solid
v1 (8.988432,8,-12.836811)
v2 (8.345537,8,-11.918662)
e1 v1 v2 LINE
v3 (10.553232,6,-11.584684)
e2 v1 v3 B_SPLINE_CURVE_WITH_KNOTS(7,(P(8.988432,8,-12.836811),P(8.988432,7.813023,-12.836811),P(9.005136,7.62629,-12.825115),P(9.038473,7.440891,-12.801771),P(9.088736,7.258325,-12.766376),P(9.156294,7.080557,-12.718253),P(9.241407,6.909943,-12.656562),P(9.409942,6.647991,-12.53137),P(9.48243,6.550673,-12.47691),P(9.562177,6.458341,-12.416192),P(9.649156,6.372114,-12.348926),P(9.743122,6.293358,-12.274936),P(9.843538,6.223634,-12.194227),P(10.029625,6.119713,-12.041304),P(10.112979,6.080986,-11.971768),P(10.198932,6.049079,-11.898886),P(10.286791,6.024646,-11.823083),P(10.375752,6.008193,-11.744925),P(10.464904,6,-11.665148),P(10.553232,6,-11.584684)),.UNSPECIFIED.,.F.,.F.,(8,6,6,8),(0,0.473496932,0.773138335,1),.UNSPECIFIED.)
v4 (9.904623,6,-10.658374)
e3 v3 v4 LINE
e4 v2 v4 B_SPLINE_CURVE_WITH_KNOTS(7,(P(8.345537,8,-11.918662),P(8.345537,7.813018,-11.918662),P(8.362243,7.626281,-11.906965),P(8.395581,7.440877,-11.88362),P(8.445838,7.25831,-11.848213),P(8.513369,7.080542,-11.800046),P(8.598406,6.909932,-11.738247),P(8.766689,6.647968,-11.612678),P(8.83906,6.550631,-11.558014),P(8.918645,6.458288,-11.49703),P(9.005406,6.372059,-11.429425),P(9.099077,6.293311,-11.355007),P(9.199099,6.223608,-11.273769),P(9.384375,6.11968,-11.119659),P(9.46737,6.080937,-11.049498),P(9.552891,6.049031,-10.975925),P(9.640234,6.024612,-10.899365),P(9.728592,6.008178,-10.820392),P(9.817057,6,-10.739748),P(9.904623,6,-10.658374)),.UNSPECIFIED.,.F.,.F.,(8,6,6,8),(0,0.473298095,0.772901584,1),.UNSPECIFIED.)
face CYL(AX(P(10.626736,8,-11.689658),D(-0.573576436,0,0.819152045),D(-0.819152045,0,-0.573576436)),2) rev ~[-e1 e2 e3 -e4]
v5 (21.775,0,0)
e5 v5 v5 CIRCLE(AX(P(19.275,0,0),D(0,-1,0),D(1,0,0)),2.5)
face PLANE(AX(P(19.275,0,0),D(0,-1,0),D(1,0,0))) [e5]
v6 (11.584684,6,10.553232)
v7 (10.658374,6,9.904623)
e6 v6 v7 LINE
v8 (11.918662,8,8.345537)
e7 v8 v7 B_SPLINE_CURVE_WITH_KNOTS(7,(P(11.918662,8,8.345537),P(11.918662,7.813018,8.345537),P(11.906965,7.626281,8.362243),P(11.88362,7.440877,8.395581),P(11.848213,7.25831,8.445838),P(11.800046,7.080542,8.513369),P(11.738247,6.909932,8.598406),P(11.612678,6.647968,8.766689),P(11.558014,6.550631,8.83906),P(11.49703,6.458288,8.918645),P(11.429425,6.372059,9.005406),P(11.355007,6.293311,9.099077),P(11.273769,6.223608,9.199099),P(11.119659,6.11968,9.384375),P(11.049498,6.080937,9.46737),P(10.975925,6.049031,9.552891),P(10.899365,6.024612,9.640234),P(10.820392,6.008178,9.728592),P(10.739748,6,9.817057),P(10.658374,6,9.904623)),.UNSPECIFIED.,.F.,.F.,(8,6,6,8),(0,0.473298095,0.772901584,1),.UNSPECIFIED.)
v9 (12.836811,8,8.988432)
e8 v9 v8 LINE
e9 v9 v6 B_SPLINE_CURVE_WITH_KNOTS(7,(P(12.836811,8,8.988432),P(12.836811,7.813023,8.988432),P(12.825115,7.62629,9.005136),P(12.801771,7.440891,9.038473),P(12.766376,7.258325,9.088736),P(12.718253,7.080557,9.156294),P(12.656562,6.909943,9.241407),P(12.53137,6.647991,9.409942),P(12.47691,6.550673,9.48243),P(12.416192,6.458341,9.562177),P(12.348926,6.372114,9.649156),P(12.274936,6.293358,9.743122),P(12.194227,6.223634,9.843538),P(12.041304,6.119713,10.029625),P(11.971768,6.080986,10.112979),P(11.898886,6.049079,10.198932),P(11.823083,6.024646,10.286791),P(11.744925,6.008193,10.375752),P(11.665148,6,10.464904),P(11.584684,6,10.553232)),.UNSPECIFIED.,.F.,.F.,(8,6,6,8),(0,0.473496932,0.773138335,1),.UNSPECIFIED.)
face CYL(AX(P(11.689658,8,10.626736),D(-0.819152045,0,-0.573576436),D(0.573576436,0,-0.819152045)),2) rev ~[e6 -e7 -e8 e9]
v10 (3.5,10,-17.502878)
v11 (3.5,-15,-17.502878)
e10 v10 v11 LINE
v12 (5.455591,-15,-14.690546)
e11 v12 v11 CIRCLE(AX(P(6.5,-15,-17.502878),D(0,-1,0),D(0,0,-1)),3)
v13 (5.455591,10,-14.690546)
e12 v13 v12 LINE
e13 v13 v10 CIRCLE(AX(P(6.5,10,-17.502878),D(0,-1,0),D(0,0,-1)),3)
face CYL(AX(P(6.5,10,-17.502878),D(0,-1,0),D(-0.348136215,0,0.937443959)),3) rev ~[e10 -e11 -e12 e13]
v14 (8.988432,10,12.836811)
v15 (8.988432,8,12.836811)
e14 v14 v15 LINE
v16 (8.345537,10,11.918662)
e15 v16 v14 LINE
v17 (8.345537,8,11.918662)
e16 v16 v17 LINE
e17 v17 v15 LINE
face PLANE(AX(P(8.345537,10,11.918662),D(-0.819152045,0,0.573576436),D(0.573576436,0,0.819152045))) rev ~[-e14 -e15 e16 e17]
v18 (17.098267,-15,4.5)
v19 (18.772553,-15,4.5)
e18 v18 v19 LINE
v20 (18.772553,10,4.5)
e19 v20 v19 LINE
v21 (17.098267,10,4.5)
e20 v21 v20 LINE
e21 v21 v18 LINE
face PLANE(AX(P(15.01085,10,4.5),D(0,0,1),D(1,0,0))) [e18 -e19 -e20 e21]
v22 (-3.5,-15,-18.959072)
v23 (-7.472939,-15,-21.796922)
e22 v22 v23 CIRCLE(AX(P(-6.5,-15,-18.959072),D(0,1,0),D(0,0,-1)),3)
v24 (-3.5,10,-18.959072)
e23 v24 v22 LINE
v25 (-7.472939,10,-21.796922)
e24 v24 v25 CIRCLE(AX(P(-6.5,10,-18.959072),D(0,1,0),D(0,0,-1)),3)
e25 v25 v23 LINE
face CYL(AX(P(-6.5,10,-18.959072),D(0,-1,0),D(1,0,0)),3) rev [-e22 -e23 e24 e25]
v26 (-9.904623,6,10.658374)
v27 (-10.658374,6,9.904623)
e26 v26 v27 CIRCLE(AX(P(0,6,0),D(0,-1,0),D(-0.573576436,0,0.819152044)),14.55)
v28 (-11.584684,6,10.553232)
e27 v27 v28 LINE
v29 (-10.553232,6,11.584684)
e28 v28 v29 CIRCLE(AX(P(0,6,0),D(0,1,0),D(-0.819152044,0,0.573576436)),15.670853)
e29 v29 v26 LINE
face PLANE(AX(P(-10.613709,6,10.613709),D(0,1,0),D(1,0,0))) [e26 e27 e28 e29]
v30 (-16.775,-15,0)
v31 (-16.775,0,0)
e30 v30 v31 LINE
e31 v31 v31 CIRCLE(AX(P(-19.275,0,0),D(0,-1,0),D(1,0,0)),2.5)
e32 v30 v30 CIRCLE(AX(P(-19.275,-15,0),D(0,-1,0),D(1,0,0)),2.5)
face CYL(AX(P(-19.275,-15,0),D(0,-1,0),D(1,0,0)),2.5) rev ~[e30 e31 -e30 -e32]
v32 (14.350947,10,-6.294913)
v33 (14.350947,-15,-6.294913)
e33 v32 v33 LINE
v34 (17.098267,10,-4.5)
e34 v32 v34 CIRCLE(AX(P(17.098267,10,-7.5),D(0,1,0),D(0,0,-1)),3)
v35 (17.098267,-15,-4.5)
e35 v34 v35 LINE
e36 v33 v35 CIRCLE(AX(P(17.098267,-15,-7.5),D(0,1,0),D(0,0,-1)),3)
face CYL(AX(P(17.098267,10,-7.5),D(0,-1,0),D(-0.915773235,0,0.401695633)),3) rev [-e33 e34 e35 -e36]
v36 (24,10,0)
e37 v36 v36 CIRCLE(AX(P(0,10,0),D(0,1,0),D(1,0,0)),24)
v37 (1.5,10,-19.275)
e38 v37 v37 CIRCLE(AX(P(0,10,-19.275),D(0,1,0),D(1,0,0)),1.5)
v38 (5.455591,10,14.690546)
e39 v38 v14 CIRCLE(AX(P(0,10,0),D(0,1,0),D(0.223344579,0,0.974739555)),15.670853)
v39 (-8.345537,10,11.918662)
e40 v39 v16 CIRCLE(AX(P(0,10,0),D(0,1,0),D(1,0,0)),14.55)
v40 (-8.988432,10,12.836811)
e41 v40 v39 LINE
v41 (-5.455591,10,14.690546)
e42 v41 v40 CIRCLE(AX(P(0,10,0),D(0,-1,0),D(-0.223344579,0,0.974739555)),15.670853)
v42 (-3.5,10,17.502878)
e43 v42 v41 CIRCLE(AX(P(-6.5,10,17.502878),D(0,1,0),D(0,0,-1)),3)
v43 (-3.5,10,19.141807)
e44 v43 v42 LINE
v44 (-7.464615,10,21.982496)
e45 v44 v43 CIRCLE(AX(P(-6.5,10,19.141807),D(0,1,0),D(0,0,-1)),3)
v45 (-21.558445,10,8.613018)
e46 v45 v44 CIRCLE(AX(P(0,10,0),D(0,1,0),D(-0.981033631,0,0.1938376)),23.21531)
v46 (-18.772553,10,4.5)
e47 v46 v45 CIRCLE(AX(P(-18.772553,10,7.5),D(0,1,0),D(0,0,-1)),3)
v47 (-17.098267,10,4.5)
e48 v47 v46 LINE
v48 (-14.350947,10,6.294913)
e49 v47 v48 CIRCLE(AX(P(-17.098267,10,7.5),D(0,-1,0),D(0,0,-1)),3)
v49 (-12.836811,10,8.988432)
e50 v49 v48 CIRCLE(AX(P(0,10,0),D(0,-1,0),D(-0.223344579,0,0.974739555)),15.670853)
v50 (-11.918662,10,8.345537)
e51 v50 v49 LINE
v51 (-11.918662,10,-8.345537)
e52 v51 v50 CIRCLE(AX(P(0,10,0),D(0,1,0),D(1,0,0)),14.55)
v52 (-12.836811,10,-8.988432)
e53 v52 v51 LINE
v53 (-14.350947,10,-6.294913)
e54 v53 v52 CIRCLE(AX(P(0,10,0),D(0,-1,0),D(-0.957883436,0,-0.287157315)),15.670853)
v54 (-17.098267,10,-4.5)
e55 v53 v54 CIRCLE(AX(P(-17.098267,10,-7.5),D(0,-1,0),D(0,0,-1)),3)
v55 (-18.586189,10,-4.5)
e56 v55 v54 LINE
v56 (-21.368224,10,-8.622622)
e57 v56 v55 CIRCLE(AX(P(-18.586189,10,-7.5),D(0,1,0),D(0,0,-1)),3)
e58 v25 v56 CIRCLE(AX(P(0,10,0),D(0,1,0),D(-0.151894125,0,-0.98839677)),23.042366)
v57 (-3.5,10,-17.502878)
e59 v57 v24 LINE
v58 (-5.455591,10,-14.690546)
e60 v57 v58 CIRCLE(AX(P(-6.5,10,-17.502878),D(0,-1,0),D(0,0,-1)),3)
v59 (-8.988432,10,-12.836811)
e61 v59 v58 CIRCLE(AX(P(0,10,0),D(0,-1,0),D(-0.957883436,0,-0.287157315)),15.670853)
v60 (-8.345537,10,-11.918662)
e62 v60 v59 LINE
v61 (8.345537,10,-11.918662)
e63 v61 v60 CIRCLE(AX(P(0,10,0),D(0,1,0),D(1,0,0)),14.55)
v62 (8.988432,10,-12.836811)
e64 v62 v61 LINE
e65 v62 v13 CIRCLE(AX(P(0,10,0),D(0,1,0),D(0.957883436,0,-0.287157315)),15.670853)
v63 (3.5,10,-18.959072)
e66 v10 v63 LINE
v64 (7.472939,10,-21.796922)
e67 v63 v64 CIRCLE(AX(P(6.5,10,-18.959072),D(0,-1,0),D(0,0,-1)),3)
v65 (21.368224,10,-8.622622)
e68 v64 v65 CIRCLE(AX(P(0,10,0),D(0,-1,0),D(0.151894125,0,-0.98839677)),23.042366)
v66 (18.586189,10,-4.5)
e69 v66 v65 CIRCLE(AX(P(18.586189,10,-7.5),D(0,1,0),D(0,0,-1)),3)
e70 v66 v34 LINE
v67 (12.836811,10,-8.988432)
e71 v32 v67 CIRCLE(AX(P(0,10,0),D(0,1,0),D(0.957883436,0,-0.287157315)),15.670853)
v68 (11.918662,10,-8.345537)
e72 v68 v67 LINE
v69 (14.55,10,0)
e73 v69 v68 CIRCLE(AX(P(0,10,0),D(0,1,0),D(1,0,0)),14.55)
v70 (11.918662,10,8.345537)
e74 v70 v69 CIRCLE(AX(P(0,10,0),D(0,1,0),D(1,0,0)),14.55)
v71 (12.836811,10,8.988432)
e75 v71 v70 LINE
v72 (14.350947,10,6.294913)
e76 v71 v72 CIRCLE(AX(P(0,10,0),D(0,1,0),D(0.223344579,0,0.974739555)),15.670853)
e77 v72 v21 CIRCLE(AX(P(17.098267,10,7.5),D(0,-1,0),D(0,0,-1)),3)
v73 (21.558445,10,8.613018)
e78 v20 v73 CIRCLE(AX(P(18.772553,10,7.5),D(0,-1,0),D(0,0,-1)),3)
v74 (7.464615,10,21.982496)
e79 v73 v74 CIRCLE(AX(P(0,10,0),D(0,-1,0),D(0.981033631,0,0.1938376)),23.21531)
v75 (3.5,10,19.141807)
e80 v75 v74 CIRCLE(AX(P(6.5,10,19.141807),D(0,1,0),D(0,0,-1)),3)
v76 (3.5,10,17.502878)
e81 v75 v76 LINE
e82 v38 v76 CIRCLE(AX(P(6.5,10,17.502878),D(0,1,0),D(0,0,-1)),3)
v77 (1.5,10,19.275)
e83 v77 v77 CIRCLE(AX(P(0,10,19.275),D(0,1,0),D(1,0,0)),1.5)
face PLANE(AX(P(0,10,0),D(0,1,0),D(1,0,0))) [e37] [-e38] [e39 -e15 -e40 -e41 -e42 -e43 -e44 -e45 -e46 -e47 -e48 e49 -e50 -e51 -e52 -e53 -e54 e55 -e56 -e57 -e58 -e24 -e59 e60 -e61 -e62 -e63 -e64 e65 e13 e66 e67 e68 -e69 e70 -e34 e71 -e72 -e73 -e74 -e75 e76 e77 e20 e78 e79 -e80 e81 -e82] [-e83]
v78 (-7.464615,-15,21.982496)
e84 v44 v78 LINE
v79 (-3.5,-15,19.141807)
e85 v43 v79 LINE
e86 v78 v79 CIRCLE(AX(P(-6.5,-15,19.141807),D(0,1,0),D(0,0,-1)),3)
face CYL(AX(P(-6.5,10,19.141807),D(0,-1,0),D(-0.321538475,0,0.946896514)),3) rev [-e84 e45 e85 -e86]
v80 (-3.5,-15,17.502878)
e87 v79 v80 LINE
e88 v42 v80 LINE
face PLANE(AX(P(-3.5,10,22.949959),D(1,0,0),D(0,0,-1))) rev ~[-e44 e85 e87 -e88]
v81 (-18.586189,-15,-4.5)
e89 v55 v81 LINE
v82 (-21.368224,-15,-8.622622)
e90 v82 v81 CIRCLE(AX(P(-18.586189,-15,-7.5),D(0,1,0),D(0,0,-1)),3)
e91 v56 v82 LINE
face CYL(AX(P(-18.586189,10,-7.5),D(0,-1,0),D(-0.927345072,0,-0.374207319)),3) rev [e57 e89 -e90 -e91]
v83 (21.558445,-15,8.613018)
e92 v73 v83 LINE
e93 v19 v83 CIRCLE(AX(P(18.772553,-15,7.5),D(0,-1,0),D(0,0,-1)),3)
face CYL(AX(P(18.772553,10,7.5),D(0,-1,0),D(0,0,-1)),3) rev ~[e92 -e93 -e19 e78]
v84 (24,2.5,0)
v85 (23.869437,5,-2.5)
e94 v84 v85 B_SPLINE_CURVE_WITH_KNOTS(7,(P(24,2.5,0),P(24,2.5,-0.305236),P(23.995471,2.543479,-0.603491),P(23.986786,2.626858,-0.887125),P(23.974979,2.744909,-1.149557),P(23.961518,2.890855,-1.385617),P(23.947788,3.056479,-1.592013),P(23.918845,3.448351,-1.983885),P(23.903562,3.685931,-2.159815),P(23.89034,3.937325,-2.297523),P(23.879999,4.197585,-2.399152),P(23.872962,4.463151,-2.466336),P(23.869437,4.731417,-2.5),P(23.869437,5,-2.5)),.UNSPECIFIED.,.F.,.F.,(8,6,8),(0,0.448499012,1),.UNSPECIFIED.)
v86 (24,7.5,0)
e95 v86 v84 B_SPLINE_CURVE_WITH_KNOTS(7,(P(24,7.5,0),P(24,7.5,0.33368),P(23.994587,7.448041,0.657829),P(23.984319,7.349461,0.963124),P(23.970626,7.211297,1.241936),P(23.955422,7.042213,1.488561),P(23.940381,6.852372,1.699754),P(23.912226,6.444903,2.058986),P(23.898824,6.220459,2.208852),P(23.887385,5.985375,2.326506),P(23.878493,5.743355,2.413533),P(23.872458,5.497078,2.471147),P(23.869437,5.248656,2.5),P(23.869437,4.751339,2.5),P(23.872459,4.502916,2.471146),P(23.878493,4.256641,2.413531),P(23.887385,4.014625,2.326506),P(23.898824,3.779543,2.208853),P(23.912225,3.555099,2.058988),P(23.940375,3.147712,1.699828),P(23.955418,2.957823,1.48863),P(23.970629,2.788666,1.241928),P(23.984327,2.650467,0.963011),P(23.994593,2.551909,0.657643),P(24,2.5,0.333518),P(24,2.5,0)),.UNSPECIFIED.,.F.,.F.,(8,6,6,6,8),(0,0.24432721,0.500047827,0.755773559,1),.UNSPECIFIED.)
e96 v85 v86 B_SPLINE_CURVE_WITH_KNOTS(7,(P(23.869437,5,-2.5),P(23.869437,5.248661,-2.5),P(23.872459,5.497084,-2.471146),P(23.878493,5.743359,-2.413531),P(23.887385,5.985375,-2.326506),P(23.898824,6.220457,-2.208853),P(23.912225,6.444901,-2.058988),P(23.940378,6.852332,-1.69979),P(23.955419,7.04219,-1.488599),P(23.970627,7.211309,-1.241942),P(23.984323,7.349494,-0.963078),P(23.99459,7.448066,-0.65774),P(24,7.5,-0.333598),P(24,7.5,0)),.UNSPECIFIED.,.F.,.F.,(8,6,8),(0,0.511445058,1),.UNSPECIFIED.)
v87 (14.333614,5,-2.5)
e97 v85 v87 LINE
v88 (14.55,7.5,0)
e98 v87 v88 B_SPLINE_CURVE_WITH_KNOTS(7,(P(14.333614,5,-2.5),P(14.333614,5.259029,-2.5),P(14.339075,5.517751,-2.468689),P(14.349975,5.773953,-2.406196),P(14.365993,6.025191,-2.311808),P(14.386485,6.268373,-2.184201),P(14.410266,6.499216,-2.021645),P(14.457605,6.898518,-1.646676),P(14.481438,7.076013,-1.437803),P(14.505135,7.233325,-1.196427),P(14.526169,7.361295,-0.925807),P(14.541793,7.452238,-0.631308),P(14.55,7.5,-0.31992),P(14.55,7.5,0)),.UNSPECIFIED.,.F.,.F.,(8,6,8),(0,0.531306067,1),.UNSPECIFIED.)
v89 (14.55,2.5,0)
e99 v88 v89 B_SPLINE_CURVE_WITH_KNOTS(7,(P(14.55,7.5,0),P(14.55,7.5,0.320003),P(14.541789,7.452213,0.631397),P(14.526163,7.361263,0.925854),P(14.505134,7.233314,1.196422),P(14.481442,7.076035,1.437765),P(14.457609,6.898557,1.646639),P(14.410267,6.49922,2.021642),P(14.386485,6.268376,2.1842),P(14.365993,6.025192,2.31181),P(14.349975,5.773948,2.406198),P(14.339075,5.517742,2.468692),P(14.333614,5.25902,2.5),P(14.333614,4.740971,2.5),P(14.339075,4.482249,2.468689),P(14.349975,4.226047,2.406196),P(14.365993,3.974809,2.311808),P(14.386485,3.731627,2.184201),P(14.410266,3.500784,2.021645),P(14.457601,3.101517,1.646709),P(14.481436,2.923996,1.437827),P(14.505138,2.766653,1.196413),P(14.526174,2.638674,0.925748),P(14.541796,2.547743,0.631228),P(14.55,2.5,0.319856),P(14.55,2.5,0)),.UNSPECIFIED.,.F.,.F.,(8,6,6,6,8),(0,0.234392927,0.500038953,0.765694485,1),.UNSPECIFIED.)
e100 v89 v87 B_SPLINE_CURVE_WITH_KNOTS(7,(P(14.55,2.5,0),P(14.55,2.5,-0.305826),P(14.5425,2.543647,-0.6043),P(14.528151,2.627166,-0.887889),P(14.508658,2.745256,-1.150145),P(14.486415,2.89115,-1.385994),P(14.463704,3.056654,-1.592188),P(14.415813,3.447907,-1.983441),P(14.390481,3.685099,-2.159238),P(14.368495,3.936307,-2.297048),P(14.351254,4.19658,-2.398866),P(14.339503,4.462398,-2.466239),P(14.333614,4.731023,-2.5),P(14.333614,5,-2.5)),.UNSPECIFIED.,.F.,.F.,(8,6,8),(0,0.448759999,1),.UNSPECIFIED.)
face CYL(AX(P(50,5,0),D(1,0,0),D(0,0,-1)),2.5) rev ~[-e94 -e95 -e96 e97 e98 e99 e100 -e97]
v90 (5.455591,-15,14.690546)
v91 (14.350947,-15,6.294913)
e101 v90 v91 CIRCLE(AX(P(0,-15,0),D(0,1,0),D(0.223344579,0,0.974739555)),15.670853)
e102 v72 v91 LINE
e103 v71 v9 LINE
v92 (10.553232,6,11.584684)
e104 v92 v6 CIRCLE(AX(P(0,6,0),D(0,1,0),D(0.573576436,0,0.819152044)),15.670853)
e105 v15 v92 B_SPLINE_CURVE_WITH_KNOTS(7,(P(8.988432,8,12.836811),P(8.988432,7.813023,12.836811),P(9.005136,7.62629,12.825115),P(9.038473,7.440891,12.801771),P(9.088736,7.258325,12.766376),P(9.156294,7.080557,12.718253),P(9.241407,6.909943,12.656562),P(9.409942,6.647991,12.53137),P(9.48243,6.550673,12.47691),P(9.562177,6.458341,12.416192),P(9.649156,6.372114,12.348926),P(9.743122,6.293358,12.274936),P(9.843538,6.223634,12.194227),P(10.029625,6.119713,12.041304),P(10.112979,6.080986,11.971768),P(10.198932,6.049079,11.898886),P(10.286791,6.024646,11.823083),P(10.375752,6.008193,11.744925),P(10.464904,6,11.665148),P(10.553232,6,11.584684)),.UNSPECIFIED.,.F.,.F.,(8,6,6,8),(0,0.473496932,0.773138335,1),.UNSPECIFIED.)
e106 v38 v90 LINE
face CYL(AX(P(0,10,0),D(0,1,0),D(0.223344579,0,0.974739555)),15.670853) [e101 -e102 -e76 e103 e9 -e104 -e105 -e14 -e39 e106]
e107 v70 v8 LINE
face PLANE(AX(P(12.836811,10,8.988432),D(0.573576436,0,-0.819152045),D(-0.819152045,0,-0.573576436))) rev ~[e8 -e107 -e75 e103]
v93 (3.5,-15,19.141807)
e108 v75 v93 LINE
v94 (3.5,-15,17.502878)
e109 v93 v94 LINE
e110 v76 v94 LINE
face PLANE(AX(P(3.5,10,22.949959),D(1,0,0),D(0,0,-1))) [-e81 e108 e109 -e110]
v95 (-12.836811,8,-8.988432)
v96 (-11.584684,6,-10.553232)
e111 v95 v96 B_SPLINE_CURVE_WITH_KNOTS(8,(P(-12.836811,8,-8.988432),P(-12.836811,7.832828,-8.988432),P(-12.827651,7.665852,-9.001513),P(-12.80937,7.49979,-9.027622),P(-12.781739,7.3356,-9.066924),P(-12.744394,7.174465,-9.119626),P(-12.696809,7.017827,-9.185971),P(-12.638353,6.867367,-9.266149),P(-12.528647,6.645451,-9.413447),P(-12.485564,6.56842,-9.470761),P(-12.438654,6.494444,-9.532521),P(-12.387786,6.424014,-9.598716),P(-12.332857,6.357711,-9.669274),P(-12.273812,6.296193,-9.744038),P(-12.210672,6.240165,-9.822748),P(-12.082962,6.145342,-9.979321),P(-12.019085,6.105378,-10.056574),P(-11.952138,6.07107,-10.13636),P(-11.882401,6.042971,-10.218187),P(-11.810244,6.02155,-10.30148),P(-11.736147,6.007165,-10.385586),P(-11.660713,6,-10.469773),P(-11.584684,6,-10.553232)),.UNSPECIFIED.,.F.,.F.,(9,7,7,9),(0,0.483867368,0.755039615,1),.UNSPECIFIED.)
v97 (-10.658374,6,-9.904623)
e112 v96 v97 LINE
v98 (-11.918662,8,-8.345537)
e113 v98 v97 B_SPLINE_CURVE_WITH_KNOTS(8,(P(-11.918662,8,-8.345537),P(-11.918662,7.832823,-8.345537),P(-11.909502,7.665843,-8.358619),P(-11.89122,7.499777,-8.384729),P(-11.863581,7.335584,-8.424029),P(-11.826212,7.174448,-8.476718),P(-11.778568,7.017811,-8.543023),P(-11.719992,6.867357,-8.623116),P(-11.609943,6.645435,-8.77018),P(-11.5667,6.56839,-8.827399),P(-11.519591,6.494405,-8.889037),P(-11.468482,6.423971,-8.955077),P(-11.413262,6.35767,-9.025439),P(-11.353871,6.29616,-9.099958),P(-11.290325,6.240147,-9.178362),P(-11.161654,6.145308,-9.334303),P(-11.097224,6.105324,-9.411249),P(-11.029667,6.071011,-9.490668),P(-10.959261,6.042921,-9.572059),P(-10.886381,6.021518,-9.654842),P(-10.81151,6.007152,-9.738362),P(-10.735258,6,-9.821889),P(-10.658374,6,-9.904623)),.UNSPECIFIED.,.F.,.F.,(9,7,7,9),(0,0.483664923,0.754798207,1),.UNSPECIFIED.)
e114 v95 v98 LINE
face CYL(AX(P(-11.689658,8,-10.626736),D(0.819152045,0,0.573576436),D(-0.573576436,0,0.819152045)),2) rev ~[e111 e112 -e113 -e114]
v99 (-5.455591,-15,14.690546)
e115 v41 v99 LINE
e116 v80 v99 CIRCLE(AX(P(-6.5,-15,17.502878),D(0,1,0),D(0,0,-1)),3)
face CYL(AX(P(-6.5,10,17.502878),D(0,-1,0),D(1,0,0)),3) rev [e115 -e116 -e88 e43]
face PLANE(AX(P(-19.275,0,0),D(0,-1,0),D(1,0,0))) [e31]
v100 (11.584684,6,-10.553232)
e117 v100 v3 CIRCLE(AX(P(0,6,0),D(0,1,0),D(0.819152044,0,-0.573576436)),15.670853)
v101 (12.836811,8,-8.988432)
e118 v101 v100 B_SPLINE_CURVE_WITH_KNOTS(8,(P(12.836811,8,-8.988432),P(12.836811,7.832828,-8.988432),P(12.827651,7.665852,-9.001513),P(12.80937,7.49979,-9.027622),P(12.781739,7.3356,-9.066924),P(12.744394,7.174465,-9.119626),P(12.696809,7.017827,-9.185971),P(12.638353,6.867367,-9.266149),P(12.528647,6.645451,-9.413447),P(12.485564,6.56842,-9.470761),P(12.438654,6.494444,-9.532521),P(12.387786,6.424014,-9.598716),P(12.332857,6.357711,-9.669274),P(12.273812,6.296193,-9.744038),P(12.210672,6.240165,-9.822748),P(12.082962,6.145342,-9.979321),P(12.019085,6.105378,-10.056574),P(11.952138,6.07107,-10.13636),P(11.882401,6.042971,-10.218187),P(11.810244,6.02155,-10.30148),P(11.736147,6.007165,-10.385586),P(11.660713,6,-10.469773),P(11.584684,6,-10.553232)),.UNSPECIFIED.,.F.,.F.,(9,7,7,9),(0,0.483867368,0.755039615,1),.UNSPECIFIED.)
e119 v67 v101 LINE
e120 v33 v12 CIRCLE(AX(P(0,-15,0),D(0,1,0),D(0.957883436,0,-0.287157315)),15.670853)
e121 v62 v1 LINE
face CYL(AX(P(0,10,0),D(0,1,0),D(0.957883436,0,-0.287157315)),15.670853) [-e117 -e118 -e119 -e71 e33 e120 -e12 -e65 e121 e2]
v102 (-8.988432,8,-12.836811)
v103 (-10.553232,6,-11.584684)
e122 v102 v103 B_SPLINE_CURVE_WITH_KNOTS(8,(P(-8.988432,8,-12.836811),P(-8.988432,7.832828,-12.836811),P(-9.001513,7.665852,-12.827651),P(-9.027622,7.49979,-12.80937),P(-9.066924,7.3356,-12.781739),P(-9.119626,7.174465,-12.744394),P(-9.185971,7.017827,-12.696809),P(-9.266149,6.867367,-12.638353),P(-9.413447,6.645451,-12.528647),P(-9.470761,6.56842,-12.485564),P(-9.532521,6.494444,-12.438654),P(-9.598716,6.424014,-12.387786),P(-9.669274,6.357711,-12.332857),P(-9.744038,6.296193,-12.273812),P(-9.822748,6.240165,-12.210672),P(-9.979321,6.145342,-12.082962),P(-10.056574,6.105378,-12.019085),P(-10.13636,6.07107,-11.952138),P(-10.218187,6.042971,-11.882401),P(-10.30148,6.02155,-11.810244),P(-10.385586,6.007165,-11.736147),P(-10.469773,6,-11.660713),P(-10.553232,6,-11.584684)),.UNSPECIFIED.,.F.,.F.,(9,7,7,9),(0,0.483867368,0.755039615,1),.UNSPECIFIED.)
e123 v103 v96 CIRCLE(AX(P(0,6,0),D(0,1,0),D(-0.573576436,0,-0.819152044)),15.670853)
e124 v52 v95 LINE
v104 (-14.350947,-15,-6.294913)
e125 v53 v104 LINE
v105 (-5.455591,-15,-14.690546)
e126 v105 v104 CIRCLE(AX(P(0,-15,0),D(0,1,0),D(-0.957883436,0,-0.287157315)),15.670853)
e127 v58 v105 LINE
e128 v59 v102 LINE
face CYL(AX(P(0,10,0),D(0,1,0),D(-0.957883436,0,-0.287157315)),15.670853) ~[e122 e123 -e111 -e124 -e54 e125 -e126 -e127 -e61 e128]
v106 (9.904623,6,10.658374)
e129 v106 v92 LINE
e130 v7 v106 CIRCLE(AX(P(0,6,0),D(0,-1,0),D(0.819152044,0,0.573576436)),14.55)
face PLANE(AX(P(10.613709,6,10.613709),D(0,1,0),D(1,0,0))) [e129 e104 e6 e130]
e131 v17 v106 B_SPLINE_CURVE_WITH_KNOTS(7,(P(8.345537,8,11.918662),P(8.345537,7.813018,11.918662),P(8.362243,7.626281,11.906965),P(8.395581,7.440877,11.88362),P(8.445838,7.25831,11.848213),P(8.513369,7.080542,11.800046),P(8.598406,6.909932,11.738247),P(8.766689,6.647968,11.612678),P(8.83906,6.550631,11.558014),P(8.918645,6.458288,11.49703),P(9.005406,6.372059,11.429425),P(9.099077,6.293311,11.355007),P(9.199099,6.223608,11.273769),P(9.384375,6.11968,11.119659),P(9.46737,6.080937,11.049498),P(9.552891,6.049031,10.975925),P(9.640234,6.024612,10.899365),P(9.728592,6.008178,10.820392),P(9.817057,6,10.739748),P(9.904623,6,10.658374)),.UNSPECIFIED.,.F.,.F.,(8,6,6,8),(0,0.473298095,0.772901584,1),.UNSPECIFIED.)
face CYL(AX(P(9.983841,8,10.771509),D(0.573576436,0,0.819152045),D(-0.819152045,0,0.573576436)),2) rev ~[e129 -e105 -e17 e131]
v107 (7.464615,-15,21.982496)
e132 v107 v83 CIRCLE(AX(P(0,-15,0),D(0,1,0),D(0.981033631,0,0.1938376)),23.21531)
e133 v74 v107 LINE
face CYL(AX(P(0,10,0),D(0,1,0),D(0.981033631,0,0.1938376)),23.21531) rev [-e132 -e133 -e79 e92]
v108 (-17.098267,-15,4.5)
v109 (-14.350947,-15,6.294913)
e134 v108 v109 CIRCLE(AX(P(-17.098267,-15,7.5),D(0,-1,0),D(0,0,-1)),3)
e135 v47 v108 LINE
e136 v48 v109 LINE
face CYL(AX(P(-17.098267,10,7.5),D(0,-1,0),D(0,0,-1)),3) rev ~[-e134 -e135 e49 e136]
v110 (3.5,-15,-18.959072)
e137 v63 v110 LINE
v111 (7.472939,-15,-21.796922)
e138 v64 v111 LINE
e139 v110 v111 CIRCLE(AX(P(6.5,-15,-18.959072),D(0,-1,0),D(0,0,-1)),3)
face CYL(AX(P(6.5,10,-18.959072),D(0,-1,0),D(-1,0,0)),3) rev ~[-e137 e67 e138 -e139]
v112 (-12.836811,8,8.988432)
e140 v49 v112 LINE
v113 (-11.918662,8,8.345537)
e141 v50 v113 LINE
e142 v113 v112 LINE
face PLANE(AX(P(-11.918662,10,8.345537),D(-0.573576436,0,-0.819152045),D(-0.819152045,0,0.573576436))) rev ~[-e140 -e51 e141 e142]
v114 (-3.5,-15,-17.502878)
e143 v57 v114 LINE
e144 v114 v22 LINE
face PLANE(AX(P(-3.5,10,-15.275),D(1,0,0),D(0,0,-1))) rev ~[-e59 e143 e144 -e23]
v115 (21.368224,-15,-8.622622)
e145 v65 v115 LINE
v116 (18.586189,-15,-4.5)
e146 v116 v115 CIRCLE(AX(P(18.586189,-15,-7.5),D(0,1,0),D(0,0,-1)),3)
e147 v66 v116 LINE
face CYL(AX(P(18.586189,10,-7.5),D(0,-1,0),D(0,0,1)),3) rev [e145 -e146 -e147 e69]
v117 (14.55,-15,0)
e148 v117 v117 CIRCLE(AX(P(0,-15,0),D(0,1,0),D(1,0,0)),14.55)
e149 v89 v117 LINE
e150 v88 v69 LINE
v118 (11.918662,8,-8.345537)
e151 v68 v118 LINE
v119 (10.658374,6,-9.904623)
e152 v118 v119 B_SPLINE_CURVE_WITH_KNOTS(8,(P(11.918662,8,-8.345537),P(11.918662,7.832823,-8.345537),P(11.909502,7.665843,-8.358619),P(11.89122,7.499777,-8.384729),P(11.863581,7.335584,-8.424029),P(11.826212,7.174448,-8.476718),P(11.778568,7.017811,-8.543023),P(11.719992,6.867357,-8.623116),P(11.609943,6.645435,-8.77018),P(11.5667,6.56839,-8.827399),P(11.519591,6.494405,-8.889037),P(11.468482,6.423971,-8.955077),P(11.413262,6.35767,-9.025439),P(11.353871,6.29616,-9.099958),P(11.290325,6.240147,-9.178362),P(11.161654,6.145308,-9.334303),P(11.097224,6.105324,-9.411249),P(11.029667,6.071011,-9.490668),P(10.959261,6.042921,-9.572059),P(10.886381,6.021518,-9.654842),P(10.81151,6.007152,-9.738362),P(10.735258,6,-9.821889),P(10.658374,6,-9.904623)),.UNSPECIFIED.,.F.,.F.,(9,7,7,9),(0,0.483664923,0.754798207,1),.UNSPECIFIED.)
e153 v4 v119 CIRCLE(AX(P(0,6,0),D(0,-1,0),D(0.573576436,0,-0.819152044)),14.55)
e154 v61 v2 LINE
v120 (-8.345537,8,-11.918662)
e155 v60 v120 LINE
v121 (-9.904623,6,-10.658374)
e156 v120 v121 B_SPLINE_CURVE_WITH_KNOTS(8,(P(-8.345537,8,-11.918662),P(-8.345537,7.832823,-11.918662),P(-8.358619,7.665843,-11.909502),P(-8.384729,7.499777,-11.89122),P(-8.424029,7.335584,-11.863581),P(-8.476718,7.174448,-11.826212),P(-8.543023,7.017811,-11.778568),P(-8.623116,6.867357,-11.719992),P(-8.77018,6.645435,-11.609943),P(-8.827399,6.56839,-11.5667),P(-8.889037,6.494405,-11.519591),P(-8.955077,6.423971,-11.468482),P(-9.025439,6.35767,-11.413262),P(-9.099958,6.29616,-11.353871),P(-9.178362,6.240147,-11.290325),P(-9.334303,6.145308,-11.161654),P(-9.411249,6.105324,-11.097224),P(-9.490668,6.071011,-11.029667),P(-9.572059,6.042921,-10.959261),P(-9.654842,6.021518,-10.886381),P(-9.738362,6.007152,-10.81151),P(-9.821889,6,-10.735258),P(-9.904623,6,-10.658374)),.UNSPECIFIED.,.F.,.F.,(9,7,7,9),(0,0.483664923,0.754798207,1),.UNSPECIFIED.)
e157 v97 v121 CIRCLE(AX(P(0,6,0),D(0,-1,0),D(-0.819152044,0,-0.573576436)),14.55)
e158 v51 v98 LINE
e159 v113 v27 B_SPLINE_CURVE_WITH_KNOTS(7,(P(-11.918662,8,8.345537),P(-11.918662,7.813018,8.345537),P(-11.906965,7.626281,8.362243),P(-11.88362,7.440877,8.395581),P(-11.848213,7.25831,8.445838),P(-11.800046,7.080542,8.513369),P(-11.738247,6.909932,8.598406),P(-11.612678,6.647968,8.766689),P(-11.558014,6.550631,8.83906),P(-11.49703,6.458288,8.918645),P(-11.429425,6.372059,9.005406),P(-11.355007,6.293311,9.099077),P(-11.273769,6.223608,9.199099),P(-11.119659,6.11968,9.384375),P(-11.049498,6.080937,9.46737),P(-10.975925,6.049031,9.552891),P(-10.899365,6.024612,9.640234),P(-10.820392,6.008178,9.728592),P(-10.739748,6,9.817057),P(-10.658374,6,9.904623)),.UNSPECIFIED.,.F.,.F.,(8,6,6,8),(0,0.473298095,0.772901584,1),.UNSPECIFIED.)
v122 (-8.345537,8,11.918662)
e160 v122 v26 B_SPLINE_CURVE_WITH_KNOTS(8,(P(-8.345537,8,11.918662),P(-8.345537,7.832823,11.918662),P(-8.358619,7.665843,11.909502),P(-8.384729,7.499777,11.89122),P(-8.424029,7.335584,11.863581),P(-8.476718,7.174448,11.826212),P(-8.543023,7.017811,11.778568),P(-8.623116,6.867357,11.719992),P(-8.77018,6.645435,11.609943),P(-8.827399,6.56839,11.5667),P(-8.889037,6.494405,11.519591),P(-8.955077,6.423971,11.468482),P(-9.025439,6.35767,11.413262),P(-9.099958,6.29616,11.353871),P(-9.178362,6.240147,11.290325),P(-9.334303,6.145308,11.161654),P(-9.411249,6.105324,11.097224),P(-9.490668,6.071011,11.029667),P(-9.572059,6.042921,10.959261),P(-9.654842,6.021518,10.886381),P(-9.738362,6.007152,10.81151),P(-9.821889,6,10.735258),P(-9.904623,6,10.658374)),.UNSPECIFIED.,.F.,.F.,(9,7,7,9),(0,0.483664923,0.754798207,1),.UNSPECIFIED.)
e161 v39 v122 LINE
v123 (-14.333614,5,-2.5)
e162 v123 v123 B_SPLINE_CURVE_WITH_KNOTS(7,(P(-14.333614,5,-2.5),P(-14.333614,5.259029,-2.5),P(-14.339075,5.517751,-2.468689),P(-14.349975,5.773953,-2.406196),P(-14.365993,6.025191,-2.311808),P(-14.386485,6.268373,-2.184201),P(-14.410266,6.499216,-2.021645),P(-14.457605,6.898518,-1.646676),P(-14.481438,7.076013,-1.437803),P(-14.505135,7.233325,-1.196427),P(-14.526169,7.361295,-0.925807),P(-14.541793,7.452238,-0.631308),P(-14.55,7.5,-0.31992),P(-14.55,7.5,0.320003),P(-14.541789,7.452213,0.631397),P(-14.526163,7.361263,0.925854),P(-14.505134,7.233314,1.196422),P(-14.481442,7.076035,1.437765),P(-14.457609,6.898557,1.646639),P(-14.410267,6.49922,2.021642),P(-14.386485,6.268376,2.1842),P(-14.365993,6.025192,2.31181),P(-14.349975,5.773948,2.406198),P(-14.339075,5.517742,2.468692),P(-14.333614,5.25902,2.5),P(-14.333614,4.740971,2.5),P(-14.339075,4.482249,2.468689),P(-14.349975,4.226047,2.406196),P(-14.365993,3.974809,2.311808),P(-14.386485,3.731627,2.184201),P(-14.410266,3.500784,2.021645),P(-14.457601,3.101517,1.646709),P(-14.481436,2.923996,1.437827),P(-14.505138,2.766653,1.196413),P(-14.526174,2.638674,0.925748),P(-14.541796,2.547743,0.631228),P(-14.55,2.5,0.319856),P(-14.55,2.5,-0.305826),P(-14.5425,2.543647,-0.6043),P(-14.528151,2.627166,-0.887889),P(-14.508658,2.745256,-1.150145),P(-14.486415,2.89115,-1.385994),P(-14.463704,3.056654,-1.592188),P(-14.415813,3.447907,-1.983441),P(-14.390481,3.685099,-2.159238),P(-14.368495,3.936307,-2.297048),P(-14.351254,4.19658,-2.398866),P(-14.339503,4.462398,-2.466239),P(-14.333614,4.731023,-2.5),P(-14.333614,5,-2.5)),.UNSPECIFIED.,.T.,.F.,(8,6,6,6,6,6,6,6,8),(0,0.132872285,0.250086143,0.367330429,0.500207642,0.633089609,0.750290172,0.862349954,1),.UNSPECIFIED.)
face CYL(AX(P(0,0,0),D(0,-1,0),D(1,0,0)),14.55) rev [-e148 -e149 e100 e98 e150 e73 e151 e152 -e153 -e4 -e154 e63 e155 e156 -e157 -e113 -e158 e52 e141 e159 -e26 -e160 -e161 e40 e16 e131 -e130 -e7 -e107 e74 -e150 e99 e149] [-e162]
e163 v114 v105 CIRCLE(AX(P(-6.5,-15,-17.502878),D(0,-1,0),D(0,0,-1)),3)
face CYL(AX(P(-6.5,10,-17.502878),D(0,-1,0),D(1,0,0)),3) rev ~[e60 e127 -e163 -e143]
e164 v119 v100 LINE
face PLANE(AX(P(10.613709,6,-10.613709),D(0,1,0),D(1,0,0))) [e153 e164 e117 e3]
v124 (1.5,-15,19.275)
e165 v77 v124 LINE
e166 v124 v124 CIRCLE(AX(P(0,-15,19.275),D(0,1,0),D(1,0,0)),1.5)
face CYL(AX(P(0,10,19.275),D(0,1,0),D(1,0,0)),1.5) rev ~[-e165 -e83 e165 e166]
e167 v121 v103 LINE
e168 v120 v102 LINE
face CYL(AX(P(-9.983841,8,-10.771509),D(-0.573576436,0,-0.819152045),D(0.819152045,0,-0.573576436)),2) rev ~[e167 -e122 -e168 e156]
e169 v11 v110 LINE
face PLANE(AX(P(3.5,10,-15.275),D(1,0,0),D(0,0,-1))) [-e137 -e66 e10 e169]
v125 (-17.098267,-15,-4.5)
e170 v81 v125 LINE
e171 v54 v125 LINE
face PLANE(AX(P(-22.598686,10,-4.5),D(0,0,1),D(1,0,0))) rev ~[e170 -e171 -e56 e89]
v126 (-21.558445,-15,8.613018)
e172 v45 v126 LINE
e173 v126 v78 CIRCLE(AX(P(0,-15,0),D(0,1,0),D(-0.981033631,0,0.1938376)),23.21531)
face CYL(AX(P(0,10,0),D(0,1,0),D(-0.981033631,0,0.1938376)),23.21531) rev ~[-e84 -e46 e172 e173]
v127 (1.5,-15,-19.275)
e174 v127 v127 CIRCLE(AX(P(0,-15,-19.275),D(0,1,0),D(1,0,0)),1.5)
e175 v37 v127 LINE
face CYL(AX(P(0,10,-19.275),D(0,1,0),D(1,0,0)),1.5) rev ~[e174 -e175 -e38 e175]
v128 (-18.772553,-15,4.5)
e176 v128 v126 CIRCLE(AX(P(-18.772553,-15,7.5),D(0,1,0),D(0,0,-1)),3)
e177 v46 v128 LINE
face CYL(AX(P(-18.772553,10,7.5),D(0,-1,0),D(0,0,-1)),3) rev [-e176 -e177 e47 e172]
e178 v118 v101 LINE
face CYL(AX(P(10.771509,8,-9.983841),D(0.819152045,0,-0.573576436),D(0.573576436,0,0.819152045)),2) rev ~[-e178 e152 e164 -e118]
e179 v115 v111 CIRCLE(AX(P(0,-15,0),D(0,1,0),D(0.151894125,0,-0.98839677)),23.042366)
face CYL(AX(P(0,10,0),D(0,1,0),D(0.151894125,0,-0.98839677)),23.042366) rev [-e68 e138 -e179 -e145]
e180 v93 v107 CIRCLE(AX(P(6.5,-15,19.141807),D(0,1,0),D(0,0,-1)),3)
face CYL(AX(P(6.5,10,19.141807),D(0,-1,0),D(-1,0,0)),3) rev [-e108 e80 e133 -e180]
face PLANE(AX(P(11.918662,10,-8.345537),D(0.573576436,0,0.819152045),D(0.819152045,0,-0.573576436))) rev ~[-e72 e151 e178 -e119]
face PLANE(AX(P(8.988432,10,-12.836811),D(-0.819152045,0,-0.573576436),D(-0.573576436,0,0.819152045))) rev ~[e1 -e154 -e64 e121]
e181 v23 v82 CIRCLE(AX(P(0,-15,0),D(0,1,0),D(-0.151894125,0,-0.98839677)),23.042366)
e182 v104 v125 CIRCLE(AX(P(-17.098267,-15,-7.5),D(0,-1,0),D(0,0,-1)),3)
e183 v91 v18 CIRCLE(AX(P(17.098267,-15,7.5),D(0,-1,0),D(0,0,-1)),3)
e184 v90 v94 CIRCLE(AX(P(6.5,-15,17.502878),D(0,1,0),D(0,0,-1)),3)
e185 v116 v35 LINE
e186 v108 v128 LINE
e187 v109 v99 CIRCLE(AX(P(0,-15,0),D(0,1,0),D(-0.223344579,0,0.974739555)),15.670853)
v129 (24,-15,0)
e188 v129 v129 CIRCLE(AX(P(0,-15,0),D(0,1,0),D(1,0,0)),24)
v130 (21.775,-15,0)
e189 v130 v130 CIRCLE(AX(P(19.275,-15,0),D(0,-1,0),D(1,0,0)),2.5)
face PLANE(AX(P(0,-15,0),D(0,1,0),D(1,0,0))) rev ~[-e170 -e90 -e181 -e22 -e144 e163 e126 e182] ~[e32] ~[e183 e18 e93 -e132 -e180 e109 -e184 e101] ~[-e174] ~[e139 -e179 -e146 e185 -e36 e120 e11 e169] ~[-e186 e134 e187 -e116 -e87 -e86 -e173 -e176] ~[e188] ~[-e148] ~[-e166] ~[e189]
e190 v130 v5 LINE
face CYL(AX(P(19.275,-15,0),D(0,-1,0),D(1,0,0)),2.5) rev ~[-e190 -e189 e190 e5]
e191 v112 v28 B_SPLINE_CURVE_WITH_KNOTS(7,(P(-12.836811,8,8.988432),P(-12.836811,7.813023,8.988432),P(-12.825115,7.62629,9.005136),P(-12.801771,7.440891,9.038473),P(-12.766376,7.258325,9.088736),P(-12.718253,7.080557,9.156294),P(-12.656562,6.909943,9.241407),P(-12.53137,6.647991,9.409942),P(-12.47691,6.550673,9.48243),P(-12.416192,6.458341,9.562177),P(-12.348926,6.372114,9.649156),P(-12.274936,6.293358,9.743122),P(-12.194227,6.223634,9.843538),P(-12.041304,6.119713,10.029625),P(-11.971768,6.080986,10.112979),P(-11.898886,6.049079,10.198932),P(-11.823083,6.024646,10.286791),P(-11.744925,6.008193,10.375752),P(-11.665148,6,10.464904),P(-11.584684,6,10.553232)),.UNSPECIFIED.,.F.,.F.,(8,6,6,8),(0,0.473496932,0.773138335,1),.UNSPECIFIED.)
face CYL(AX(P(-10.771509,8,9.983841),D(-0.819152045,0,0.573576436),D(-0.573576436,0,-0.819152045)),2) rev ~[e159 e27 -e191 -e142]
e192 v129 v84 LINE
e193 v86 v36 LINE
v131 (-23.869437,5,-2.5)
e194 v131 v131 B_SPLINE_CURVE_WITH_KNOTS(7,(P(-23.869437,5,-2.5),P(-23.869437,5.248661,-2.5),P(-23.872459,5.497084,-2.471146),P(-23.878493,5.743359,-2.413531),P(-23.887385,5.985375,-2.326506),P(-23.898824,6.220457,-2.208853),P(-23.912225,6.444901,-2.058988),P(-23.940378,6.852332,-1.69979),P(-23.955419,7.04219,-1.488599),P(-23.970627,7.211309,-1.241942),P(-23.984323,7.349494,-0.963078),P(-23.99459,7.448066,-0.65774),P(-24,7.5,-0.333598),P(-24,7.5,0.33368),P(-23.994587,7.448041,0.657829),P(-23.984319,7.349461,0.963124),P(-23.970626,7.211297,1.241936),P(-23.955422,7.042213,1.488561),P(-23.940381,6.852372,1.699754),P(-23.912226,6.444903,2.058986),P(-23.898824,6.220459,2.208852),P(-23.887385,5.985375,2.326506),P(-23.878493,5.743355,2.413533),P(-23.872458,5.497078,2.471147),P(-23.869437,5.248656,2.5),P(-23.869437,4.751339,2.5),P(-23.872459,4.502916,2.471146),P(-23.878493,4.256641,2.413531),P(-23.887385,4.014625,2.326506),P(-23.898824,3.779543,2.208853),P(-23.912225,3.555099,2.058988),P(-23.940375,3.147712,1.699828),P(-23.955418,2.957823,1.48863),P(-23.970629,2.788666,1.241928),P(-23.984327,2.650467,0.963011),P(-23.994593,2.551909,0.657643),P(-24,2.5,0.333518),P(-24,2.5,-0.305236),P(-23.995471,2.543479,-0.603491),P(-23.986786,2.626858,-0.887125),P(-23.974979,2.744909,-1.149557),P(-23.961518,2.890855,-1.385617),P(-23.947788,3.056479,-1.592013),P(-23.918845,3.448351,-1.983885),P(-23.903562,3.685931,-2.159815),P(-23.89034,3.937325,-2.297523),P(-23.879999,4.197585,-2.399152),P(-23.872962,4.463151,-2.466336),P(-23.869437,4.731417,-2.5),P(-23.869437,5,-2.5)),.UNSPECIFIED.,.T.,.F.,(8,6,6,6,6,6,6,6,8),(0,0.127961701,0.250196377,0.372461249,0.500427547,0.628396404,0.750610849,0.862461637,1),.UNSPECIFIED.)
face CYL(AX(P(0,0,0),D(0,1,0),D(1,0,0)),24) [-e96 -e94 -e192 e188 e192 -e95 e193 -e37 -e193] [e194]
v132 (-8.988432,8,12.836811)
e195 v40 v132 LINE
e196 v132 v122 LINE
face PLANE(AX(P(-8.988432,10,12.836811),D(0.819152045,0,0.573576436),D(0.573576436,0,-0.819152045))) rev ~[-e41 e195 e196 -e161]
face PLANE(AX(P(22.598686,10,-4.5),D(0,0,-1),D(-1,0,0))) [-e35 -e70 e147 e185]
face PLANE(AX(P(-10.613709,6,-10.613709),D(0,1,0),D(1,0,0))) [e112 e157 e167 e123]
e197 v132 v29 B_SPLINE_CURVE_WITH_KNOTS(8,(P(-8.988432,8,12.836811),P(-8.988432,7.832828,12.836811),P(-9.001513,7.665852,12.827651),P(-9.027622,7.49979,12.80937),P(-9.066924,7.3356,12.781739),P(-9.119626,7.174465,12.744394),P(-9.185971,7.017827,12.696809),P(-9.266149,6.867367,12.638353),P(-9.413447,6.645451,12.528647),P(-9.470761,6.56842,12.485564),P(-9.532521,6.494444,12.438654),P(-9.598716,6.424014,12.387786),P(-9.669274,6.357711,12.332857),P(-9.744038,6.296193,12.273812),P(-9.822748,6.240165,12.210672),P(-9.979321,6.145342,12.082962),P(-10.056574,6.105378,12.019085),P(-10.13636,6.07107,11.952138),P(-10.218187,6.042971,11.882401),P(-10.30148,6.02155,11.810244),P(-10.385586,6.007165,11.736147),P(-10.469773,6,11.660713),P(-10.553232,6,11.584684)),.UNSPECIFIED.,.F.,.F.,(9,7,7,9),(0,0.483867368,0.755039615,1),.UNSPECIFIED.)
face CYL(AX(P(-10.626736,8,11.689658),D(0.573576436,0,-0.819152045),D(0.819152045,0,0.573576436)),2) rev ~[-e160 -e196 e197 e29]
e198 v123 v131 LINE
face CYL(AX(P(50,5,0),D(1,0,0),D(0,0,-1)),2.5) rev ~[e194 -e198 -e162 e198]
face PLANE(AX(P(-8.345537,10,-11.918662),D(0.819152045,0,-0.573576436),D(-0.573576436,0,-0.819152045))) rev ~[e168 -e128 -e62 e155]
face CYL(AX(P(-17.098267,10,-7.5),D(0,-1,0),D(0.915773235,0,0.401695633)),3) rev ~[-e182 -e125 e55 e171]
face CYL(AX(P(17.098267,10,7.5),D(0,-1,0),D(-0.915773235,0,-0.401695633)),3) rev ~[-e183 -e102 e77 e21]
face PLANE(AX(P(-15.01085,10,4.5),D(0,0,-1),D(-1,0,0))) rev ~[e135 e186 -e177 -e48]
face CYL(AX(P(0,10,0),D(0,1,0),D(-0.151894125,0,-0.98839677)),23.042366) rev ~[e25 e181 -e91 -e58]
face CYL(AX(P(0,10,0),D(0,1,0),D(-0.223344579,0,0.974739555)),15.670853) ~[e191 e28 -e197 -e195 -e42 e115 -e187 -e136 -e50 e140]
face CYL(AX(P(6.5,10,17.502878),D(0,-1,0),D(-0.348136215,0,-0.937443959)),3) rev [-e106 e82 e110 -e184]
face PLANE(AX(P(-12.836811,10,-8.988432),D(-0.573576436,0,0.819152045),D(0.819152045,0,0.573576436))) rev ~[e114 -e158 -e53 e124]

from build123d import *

# Parameters (mm, degrees)
SKETCH3_R                = 24
SKETCH3_R_2              = 14.55
BOSS_EXTRUDE1_DEPTH      = 10
BOSS_EXTRUDE1_DEPTH_BACK = 15
CUT_EXTRUDE2_START       = 50
SKETCH4_R                = 2.5
CUT_EXTRUDE2_DEPTH       = 100
SKETCH5_R                = 1.5
CUT_EXTRUDE3_DEPTH       = 100
CUT_EXTRUDE6_DEPTH       = 26
CUT_EXTRUDE7_DEPTH       = 26
CUT_EXTRUDE8_DEPTH       = 26
CUT_EXTRUDE9_DEPTH       = 26
FILLET5_R                = 3
CUT_EXTRUDE12_DEPTH      = 4
FILLET10_R               = 2
SKETCH20_R               = 2.5
CUT_EXTRUDE13_DEPTH      = 15


with BuildPart() as part:
    # Sketch3 → Boss-Extrude1 (new body, two sides)
    with BuildSketch(Plane(origin=(0, 0, 0), x_dir=(1, 0, 0), z_dir=(0, 1, 0))) as boss_extrude1_sk:
        Circle(SKETCH3_R)
        Circle(SKETCH3_R_2, mode=Mode.SUBTRACT)
    extrude(amount=BOSS_EXTRUDE1_DEPTH)
    extrude(boss_extrude1_sk.sketch, amount=-BOSS_EXTRUDE1_DEPTH_BACK)

    # Sketch4 → Cut-Extrude2 (cut)
    with BuildSketch(Plane(origin=(0, 0, 0), x_dir=(0, 0, -1), z_dir=(1, 0, 0)).offset(CUT_EXTRUDE2_START)):
        with Locations((0, 5)):
            Circle(SKETCH4_R)
    extrude(amount=-CUT_EXTRUDE2_DEPTH, mode=Mode.SUBTRACT)

    # Sketch5 → Cut-Extrude3 (cut)
    with BuildSketch(Plane(origin=(0, 10, 0), x_dir=(1, 0, 0), z_dir=(0, 1, 0))):
        with Locations((0, 19.275)):
            Circle(SKETCH5_R)
        with Locations((0, -19.275)):
            Circle(SKETCH5_R)
    extrude(amount=-CUT_EXTRUDE3_DEPTH, mode=Mode.SUBTRACT)

    # Sketch7 → Cut-Extrude6 (cut)
    with BuildSketch(Plane(origin=(0, 10, 0), x_dir=(1, 0, 0), z_dir=(0, 1, 0))):
        with BuildLine():
            Line((3.5, 15.275), (3.5, 22.775))
            ThreePointArc((3.5, 22.775), (15.930450829, 16.648464235), (22.598686356, 4.5))
            Line((22.598686356, 4.5), (15.010850242, 4.5))
            ThreePointArc((15.010850242, 4.5), (10.709250694, 11.440610761), (3.5, 15.275))
        make_face()
    extrude(amount=-CUT_EXTRUDE6_DEPTH, mode=Mode.SUBTRACT)

    # Sketch9 → Cut-Extrude7 (cut)
    with BuildSketch(Plane(origin=(0, 10, 0), x_dir=(1, 0, 0), z_dir=(0, 1, 0))):
        with BuildLine():
            Line((15.010850242, -4.5), (22.775, -4.5))
            ThreePointArc((22.775, -4.5), (16.052855024, -16.770702746), (3.5, -22.94995915))
            Line((3.5, -22.94995915), (3.5, -15.275))
            ThreePointArc((3.5, -15.275), (10.709250694, -11.440610761), (15.010850242, -4.5))
        make_face()
    extrude(amount=-CUT_EXTRUDE7_DEPTH, mode=Mode.SUBTRACT)

    # Sketch10 → Cut-Extrude8 (cut)
    with BuildSketch(Plane(origin=(0, 10, 0), x_dir=(1, 0, 0), z_dir=(0, 1, 0))):
        with BuildLine():
            Line((-3.5, 15.275), (-3.5, 22.775))
            ThreePointArc((-3.5, 22.775), (-15.930450829, 16.648464235), (-22.598686356, 4.5))
            Line((-22.598686356, 4.5), (-15.010850242, 4.5))
            ThreePointArc((-15.010850242, 4.5), (-10.709250694, 11.440610761), (-3.5, 15.275))
        make_face()
    extrude(amount=-CUT_EXTRUDE8_DEPTH, mode=Mode.SUBTRACT)

    # Sketch11 → Cut-Extrude9 (cut)
    with BuildSketch(Plane(origin=(0, 10, 0), x_dir=(1, 0, 0), z_dir=(0, 1, 0))):
        with BuildLine():
            Line((-15.010850242, -4.5), (-22.775, -4.5))
            ThreePointArc((-22.775, -4.5), (-16.052855024, -16.770702746), (-3.5, -22.94995915))
            Line((-3.5, -22.94995915), (-3.5, -15.275))
            ThreePointArc((-3.5, -15.275), (-10.709250694, -11.440610761), (-15.010850242, -4.5))
        make_face()
    extrude(amount=-CUT_EXTRUDE9_DEPTH, mode=Mode.SUBTRACT)

    # Fillet5
    fillet5_edges = [part.edges().sort_by_distance(p)[0] for p in [
        (-3.5, -2.5, 22.94995915),
        (-22.775, -2.5, 4.5),
        (-15.010850242, -2.5, 4.5),
        (-3.5, -2.5, 15.275),
        (3.5, -2.5, -22.775),
        (22.598686356, -2.5, -4.5),
        (15.010850242, -2.5, -4.5),
        (3.5, -2.5, -15.275),
        (3.5, -2.5, 15.275),
        (15.010850242, -2.5, 4.5),
        (22.775, -2.5, 4.5),
        (3.5, -2.5, 22.94995915),
        (-3.5, -2.5, -15.275),
        (-15.010850242, -2.5, -4.5),
        (-22.598686356, -2.5, -4.5),
        (-3.5, -2.5, -22.775),
    ]]
    fillet(fillet5_edges, radius=FILLET5_R)

    # Sketch19 → Cut-Extrude12 (cut)
    with BuildSketch(Plane(origin=(0, 10, 0), x_dir=(1, 0, 0), z_dir=(0, 1, 0))):
        with BuildLine():
            Line((-12.836811042, 8.988431858), (-11.918662244, 8.345537149))
            ThreePointArc((-11.918662244, 8.345537149), (-10.288403666, 10.288403666), (-8.345537149, 11.918662244))
            Line((-8.345537149, 11.918662244), (-8.988431858, 12.836811042))
            ThreePointArc((-8.988431858, 12.836811042), (-11.080966226, 11.080966226), (-12.836811042, 8.988431858))
        make_face()
        with BuildLine():
            Line((8.988431858, 12.836811042), (8.345537149, 11.918662244))
            ThreePointArc((8.345537149, 11.918662244), (10.288403666, 10.288403666), (11.918662244, 8.345537149))
            Line((11.918662244, 8.345537149), (12.836811042, 8.988431858))
            ThreePointArc((12.836811042, 8.988431858), (11.080966226, 11.080966226), (8.988431858, 12.836811042))
        make_face()
        with BuildLine():
            ThreePointArc((11.918662244, -8.345537149), (10.288403666, -10.288403666), (8.345537149, -11.918662244))
            Line((8.345537149, -11.918662244), (8.988431858, -12.836811042))
            ThreePointArc((8.988431858, -12.836811042), (11.080966226, -11.080966226), (12.836811042, -8.988431858))
            Line((12.836811042, -8.988431858), (11.918662244, -8.345537149))
        make_face()
        with BuildLine():
            Line((-8.988431858, -12.836811042), (-8.345537149, -11.918662244))
            ThreePointArc((-8.345537149, -11.918662244), (-10.288403666, -10.288403666), (-11.918662244, -8.345537149))
            Line((-11.918662244, -8.345537149), (-12.836811042, -8.988431858))
            ThreePointArc((-12.836811042, -8.988431858), (-11.080966226, -11.080966226), (-8.988431858, -12.836811042))
        make_face()
    extrude(amount=-CUT_EXTRUDE12_DEPTH, mode=Mode.SUBTRACT)

    # Fillet10
    fillet10_edges = [part.edges().sort_by_distance(p)[0] for p in [
        (-12.377736643, 6, 8.666984504),
        (-8.666984504, 6, 12.377736643),
        (8.666984504, 6, 12.377736643),
        (12.377736643, 6, 8.666984504),
        (12.377736643, 6, -8.666984504),
        (8.666984504, 6, -12.377736643),
        (-8.666984504, 6, -12.377736643),
        (-12.377736643, 6, -8.666984504),
    ]]
    fillet(fillet10_edges, radius=FILLET10_R)

    # Sketch20 → Cut-Extrude13 (cut)
    with BuildSketch(Plane.XZ.offset(15)):
        with Locations((-19.275, 0)):
            Circle(SKETCH20_R)
        with Locations((19.275, 0)):
            Circle(SKETCH20_R)
    extrude(amount=-CUT_EXTRUDE13_DEPTH, mode=Mode.SUBTRACT)


solid = part.part
